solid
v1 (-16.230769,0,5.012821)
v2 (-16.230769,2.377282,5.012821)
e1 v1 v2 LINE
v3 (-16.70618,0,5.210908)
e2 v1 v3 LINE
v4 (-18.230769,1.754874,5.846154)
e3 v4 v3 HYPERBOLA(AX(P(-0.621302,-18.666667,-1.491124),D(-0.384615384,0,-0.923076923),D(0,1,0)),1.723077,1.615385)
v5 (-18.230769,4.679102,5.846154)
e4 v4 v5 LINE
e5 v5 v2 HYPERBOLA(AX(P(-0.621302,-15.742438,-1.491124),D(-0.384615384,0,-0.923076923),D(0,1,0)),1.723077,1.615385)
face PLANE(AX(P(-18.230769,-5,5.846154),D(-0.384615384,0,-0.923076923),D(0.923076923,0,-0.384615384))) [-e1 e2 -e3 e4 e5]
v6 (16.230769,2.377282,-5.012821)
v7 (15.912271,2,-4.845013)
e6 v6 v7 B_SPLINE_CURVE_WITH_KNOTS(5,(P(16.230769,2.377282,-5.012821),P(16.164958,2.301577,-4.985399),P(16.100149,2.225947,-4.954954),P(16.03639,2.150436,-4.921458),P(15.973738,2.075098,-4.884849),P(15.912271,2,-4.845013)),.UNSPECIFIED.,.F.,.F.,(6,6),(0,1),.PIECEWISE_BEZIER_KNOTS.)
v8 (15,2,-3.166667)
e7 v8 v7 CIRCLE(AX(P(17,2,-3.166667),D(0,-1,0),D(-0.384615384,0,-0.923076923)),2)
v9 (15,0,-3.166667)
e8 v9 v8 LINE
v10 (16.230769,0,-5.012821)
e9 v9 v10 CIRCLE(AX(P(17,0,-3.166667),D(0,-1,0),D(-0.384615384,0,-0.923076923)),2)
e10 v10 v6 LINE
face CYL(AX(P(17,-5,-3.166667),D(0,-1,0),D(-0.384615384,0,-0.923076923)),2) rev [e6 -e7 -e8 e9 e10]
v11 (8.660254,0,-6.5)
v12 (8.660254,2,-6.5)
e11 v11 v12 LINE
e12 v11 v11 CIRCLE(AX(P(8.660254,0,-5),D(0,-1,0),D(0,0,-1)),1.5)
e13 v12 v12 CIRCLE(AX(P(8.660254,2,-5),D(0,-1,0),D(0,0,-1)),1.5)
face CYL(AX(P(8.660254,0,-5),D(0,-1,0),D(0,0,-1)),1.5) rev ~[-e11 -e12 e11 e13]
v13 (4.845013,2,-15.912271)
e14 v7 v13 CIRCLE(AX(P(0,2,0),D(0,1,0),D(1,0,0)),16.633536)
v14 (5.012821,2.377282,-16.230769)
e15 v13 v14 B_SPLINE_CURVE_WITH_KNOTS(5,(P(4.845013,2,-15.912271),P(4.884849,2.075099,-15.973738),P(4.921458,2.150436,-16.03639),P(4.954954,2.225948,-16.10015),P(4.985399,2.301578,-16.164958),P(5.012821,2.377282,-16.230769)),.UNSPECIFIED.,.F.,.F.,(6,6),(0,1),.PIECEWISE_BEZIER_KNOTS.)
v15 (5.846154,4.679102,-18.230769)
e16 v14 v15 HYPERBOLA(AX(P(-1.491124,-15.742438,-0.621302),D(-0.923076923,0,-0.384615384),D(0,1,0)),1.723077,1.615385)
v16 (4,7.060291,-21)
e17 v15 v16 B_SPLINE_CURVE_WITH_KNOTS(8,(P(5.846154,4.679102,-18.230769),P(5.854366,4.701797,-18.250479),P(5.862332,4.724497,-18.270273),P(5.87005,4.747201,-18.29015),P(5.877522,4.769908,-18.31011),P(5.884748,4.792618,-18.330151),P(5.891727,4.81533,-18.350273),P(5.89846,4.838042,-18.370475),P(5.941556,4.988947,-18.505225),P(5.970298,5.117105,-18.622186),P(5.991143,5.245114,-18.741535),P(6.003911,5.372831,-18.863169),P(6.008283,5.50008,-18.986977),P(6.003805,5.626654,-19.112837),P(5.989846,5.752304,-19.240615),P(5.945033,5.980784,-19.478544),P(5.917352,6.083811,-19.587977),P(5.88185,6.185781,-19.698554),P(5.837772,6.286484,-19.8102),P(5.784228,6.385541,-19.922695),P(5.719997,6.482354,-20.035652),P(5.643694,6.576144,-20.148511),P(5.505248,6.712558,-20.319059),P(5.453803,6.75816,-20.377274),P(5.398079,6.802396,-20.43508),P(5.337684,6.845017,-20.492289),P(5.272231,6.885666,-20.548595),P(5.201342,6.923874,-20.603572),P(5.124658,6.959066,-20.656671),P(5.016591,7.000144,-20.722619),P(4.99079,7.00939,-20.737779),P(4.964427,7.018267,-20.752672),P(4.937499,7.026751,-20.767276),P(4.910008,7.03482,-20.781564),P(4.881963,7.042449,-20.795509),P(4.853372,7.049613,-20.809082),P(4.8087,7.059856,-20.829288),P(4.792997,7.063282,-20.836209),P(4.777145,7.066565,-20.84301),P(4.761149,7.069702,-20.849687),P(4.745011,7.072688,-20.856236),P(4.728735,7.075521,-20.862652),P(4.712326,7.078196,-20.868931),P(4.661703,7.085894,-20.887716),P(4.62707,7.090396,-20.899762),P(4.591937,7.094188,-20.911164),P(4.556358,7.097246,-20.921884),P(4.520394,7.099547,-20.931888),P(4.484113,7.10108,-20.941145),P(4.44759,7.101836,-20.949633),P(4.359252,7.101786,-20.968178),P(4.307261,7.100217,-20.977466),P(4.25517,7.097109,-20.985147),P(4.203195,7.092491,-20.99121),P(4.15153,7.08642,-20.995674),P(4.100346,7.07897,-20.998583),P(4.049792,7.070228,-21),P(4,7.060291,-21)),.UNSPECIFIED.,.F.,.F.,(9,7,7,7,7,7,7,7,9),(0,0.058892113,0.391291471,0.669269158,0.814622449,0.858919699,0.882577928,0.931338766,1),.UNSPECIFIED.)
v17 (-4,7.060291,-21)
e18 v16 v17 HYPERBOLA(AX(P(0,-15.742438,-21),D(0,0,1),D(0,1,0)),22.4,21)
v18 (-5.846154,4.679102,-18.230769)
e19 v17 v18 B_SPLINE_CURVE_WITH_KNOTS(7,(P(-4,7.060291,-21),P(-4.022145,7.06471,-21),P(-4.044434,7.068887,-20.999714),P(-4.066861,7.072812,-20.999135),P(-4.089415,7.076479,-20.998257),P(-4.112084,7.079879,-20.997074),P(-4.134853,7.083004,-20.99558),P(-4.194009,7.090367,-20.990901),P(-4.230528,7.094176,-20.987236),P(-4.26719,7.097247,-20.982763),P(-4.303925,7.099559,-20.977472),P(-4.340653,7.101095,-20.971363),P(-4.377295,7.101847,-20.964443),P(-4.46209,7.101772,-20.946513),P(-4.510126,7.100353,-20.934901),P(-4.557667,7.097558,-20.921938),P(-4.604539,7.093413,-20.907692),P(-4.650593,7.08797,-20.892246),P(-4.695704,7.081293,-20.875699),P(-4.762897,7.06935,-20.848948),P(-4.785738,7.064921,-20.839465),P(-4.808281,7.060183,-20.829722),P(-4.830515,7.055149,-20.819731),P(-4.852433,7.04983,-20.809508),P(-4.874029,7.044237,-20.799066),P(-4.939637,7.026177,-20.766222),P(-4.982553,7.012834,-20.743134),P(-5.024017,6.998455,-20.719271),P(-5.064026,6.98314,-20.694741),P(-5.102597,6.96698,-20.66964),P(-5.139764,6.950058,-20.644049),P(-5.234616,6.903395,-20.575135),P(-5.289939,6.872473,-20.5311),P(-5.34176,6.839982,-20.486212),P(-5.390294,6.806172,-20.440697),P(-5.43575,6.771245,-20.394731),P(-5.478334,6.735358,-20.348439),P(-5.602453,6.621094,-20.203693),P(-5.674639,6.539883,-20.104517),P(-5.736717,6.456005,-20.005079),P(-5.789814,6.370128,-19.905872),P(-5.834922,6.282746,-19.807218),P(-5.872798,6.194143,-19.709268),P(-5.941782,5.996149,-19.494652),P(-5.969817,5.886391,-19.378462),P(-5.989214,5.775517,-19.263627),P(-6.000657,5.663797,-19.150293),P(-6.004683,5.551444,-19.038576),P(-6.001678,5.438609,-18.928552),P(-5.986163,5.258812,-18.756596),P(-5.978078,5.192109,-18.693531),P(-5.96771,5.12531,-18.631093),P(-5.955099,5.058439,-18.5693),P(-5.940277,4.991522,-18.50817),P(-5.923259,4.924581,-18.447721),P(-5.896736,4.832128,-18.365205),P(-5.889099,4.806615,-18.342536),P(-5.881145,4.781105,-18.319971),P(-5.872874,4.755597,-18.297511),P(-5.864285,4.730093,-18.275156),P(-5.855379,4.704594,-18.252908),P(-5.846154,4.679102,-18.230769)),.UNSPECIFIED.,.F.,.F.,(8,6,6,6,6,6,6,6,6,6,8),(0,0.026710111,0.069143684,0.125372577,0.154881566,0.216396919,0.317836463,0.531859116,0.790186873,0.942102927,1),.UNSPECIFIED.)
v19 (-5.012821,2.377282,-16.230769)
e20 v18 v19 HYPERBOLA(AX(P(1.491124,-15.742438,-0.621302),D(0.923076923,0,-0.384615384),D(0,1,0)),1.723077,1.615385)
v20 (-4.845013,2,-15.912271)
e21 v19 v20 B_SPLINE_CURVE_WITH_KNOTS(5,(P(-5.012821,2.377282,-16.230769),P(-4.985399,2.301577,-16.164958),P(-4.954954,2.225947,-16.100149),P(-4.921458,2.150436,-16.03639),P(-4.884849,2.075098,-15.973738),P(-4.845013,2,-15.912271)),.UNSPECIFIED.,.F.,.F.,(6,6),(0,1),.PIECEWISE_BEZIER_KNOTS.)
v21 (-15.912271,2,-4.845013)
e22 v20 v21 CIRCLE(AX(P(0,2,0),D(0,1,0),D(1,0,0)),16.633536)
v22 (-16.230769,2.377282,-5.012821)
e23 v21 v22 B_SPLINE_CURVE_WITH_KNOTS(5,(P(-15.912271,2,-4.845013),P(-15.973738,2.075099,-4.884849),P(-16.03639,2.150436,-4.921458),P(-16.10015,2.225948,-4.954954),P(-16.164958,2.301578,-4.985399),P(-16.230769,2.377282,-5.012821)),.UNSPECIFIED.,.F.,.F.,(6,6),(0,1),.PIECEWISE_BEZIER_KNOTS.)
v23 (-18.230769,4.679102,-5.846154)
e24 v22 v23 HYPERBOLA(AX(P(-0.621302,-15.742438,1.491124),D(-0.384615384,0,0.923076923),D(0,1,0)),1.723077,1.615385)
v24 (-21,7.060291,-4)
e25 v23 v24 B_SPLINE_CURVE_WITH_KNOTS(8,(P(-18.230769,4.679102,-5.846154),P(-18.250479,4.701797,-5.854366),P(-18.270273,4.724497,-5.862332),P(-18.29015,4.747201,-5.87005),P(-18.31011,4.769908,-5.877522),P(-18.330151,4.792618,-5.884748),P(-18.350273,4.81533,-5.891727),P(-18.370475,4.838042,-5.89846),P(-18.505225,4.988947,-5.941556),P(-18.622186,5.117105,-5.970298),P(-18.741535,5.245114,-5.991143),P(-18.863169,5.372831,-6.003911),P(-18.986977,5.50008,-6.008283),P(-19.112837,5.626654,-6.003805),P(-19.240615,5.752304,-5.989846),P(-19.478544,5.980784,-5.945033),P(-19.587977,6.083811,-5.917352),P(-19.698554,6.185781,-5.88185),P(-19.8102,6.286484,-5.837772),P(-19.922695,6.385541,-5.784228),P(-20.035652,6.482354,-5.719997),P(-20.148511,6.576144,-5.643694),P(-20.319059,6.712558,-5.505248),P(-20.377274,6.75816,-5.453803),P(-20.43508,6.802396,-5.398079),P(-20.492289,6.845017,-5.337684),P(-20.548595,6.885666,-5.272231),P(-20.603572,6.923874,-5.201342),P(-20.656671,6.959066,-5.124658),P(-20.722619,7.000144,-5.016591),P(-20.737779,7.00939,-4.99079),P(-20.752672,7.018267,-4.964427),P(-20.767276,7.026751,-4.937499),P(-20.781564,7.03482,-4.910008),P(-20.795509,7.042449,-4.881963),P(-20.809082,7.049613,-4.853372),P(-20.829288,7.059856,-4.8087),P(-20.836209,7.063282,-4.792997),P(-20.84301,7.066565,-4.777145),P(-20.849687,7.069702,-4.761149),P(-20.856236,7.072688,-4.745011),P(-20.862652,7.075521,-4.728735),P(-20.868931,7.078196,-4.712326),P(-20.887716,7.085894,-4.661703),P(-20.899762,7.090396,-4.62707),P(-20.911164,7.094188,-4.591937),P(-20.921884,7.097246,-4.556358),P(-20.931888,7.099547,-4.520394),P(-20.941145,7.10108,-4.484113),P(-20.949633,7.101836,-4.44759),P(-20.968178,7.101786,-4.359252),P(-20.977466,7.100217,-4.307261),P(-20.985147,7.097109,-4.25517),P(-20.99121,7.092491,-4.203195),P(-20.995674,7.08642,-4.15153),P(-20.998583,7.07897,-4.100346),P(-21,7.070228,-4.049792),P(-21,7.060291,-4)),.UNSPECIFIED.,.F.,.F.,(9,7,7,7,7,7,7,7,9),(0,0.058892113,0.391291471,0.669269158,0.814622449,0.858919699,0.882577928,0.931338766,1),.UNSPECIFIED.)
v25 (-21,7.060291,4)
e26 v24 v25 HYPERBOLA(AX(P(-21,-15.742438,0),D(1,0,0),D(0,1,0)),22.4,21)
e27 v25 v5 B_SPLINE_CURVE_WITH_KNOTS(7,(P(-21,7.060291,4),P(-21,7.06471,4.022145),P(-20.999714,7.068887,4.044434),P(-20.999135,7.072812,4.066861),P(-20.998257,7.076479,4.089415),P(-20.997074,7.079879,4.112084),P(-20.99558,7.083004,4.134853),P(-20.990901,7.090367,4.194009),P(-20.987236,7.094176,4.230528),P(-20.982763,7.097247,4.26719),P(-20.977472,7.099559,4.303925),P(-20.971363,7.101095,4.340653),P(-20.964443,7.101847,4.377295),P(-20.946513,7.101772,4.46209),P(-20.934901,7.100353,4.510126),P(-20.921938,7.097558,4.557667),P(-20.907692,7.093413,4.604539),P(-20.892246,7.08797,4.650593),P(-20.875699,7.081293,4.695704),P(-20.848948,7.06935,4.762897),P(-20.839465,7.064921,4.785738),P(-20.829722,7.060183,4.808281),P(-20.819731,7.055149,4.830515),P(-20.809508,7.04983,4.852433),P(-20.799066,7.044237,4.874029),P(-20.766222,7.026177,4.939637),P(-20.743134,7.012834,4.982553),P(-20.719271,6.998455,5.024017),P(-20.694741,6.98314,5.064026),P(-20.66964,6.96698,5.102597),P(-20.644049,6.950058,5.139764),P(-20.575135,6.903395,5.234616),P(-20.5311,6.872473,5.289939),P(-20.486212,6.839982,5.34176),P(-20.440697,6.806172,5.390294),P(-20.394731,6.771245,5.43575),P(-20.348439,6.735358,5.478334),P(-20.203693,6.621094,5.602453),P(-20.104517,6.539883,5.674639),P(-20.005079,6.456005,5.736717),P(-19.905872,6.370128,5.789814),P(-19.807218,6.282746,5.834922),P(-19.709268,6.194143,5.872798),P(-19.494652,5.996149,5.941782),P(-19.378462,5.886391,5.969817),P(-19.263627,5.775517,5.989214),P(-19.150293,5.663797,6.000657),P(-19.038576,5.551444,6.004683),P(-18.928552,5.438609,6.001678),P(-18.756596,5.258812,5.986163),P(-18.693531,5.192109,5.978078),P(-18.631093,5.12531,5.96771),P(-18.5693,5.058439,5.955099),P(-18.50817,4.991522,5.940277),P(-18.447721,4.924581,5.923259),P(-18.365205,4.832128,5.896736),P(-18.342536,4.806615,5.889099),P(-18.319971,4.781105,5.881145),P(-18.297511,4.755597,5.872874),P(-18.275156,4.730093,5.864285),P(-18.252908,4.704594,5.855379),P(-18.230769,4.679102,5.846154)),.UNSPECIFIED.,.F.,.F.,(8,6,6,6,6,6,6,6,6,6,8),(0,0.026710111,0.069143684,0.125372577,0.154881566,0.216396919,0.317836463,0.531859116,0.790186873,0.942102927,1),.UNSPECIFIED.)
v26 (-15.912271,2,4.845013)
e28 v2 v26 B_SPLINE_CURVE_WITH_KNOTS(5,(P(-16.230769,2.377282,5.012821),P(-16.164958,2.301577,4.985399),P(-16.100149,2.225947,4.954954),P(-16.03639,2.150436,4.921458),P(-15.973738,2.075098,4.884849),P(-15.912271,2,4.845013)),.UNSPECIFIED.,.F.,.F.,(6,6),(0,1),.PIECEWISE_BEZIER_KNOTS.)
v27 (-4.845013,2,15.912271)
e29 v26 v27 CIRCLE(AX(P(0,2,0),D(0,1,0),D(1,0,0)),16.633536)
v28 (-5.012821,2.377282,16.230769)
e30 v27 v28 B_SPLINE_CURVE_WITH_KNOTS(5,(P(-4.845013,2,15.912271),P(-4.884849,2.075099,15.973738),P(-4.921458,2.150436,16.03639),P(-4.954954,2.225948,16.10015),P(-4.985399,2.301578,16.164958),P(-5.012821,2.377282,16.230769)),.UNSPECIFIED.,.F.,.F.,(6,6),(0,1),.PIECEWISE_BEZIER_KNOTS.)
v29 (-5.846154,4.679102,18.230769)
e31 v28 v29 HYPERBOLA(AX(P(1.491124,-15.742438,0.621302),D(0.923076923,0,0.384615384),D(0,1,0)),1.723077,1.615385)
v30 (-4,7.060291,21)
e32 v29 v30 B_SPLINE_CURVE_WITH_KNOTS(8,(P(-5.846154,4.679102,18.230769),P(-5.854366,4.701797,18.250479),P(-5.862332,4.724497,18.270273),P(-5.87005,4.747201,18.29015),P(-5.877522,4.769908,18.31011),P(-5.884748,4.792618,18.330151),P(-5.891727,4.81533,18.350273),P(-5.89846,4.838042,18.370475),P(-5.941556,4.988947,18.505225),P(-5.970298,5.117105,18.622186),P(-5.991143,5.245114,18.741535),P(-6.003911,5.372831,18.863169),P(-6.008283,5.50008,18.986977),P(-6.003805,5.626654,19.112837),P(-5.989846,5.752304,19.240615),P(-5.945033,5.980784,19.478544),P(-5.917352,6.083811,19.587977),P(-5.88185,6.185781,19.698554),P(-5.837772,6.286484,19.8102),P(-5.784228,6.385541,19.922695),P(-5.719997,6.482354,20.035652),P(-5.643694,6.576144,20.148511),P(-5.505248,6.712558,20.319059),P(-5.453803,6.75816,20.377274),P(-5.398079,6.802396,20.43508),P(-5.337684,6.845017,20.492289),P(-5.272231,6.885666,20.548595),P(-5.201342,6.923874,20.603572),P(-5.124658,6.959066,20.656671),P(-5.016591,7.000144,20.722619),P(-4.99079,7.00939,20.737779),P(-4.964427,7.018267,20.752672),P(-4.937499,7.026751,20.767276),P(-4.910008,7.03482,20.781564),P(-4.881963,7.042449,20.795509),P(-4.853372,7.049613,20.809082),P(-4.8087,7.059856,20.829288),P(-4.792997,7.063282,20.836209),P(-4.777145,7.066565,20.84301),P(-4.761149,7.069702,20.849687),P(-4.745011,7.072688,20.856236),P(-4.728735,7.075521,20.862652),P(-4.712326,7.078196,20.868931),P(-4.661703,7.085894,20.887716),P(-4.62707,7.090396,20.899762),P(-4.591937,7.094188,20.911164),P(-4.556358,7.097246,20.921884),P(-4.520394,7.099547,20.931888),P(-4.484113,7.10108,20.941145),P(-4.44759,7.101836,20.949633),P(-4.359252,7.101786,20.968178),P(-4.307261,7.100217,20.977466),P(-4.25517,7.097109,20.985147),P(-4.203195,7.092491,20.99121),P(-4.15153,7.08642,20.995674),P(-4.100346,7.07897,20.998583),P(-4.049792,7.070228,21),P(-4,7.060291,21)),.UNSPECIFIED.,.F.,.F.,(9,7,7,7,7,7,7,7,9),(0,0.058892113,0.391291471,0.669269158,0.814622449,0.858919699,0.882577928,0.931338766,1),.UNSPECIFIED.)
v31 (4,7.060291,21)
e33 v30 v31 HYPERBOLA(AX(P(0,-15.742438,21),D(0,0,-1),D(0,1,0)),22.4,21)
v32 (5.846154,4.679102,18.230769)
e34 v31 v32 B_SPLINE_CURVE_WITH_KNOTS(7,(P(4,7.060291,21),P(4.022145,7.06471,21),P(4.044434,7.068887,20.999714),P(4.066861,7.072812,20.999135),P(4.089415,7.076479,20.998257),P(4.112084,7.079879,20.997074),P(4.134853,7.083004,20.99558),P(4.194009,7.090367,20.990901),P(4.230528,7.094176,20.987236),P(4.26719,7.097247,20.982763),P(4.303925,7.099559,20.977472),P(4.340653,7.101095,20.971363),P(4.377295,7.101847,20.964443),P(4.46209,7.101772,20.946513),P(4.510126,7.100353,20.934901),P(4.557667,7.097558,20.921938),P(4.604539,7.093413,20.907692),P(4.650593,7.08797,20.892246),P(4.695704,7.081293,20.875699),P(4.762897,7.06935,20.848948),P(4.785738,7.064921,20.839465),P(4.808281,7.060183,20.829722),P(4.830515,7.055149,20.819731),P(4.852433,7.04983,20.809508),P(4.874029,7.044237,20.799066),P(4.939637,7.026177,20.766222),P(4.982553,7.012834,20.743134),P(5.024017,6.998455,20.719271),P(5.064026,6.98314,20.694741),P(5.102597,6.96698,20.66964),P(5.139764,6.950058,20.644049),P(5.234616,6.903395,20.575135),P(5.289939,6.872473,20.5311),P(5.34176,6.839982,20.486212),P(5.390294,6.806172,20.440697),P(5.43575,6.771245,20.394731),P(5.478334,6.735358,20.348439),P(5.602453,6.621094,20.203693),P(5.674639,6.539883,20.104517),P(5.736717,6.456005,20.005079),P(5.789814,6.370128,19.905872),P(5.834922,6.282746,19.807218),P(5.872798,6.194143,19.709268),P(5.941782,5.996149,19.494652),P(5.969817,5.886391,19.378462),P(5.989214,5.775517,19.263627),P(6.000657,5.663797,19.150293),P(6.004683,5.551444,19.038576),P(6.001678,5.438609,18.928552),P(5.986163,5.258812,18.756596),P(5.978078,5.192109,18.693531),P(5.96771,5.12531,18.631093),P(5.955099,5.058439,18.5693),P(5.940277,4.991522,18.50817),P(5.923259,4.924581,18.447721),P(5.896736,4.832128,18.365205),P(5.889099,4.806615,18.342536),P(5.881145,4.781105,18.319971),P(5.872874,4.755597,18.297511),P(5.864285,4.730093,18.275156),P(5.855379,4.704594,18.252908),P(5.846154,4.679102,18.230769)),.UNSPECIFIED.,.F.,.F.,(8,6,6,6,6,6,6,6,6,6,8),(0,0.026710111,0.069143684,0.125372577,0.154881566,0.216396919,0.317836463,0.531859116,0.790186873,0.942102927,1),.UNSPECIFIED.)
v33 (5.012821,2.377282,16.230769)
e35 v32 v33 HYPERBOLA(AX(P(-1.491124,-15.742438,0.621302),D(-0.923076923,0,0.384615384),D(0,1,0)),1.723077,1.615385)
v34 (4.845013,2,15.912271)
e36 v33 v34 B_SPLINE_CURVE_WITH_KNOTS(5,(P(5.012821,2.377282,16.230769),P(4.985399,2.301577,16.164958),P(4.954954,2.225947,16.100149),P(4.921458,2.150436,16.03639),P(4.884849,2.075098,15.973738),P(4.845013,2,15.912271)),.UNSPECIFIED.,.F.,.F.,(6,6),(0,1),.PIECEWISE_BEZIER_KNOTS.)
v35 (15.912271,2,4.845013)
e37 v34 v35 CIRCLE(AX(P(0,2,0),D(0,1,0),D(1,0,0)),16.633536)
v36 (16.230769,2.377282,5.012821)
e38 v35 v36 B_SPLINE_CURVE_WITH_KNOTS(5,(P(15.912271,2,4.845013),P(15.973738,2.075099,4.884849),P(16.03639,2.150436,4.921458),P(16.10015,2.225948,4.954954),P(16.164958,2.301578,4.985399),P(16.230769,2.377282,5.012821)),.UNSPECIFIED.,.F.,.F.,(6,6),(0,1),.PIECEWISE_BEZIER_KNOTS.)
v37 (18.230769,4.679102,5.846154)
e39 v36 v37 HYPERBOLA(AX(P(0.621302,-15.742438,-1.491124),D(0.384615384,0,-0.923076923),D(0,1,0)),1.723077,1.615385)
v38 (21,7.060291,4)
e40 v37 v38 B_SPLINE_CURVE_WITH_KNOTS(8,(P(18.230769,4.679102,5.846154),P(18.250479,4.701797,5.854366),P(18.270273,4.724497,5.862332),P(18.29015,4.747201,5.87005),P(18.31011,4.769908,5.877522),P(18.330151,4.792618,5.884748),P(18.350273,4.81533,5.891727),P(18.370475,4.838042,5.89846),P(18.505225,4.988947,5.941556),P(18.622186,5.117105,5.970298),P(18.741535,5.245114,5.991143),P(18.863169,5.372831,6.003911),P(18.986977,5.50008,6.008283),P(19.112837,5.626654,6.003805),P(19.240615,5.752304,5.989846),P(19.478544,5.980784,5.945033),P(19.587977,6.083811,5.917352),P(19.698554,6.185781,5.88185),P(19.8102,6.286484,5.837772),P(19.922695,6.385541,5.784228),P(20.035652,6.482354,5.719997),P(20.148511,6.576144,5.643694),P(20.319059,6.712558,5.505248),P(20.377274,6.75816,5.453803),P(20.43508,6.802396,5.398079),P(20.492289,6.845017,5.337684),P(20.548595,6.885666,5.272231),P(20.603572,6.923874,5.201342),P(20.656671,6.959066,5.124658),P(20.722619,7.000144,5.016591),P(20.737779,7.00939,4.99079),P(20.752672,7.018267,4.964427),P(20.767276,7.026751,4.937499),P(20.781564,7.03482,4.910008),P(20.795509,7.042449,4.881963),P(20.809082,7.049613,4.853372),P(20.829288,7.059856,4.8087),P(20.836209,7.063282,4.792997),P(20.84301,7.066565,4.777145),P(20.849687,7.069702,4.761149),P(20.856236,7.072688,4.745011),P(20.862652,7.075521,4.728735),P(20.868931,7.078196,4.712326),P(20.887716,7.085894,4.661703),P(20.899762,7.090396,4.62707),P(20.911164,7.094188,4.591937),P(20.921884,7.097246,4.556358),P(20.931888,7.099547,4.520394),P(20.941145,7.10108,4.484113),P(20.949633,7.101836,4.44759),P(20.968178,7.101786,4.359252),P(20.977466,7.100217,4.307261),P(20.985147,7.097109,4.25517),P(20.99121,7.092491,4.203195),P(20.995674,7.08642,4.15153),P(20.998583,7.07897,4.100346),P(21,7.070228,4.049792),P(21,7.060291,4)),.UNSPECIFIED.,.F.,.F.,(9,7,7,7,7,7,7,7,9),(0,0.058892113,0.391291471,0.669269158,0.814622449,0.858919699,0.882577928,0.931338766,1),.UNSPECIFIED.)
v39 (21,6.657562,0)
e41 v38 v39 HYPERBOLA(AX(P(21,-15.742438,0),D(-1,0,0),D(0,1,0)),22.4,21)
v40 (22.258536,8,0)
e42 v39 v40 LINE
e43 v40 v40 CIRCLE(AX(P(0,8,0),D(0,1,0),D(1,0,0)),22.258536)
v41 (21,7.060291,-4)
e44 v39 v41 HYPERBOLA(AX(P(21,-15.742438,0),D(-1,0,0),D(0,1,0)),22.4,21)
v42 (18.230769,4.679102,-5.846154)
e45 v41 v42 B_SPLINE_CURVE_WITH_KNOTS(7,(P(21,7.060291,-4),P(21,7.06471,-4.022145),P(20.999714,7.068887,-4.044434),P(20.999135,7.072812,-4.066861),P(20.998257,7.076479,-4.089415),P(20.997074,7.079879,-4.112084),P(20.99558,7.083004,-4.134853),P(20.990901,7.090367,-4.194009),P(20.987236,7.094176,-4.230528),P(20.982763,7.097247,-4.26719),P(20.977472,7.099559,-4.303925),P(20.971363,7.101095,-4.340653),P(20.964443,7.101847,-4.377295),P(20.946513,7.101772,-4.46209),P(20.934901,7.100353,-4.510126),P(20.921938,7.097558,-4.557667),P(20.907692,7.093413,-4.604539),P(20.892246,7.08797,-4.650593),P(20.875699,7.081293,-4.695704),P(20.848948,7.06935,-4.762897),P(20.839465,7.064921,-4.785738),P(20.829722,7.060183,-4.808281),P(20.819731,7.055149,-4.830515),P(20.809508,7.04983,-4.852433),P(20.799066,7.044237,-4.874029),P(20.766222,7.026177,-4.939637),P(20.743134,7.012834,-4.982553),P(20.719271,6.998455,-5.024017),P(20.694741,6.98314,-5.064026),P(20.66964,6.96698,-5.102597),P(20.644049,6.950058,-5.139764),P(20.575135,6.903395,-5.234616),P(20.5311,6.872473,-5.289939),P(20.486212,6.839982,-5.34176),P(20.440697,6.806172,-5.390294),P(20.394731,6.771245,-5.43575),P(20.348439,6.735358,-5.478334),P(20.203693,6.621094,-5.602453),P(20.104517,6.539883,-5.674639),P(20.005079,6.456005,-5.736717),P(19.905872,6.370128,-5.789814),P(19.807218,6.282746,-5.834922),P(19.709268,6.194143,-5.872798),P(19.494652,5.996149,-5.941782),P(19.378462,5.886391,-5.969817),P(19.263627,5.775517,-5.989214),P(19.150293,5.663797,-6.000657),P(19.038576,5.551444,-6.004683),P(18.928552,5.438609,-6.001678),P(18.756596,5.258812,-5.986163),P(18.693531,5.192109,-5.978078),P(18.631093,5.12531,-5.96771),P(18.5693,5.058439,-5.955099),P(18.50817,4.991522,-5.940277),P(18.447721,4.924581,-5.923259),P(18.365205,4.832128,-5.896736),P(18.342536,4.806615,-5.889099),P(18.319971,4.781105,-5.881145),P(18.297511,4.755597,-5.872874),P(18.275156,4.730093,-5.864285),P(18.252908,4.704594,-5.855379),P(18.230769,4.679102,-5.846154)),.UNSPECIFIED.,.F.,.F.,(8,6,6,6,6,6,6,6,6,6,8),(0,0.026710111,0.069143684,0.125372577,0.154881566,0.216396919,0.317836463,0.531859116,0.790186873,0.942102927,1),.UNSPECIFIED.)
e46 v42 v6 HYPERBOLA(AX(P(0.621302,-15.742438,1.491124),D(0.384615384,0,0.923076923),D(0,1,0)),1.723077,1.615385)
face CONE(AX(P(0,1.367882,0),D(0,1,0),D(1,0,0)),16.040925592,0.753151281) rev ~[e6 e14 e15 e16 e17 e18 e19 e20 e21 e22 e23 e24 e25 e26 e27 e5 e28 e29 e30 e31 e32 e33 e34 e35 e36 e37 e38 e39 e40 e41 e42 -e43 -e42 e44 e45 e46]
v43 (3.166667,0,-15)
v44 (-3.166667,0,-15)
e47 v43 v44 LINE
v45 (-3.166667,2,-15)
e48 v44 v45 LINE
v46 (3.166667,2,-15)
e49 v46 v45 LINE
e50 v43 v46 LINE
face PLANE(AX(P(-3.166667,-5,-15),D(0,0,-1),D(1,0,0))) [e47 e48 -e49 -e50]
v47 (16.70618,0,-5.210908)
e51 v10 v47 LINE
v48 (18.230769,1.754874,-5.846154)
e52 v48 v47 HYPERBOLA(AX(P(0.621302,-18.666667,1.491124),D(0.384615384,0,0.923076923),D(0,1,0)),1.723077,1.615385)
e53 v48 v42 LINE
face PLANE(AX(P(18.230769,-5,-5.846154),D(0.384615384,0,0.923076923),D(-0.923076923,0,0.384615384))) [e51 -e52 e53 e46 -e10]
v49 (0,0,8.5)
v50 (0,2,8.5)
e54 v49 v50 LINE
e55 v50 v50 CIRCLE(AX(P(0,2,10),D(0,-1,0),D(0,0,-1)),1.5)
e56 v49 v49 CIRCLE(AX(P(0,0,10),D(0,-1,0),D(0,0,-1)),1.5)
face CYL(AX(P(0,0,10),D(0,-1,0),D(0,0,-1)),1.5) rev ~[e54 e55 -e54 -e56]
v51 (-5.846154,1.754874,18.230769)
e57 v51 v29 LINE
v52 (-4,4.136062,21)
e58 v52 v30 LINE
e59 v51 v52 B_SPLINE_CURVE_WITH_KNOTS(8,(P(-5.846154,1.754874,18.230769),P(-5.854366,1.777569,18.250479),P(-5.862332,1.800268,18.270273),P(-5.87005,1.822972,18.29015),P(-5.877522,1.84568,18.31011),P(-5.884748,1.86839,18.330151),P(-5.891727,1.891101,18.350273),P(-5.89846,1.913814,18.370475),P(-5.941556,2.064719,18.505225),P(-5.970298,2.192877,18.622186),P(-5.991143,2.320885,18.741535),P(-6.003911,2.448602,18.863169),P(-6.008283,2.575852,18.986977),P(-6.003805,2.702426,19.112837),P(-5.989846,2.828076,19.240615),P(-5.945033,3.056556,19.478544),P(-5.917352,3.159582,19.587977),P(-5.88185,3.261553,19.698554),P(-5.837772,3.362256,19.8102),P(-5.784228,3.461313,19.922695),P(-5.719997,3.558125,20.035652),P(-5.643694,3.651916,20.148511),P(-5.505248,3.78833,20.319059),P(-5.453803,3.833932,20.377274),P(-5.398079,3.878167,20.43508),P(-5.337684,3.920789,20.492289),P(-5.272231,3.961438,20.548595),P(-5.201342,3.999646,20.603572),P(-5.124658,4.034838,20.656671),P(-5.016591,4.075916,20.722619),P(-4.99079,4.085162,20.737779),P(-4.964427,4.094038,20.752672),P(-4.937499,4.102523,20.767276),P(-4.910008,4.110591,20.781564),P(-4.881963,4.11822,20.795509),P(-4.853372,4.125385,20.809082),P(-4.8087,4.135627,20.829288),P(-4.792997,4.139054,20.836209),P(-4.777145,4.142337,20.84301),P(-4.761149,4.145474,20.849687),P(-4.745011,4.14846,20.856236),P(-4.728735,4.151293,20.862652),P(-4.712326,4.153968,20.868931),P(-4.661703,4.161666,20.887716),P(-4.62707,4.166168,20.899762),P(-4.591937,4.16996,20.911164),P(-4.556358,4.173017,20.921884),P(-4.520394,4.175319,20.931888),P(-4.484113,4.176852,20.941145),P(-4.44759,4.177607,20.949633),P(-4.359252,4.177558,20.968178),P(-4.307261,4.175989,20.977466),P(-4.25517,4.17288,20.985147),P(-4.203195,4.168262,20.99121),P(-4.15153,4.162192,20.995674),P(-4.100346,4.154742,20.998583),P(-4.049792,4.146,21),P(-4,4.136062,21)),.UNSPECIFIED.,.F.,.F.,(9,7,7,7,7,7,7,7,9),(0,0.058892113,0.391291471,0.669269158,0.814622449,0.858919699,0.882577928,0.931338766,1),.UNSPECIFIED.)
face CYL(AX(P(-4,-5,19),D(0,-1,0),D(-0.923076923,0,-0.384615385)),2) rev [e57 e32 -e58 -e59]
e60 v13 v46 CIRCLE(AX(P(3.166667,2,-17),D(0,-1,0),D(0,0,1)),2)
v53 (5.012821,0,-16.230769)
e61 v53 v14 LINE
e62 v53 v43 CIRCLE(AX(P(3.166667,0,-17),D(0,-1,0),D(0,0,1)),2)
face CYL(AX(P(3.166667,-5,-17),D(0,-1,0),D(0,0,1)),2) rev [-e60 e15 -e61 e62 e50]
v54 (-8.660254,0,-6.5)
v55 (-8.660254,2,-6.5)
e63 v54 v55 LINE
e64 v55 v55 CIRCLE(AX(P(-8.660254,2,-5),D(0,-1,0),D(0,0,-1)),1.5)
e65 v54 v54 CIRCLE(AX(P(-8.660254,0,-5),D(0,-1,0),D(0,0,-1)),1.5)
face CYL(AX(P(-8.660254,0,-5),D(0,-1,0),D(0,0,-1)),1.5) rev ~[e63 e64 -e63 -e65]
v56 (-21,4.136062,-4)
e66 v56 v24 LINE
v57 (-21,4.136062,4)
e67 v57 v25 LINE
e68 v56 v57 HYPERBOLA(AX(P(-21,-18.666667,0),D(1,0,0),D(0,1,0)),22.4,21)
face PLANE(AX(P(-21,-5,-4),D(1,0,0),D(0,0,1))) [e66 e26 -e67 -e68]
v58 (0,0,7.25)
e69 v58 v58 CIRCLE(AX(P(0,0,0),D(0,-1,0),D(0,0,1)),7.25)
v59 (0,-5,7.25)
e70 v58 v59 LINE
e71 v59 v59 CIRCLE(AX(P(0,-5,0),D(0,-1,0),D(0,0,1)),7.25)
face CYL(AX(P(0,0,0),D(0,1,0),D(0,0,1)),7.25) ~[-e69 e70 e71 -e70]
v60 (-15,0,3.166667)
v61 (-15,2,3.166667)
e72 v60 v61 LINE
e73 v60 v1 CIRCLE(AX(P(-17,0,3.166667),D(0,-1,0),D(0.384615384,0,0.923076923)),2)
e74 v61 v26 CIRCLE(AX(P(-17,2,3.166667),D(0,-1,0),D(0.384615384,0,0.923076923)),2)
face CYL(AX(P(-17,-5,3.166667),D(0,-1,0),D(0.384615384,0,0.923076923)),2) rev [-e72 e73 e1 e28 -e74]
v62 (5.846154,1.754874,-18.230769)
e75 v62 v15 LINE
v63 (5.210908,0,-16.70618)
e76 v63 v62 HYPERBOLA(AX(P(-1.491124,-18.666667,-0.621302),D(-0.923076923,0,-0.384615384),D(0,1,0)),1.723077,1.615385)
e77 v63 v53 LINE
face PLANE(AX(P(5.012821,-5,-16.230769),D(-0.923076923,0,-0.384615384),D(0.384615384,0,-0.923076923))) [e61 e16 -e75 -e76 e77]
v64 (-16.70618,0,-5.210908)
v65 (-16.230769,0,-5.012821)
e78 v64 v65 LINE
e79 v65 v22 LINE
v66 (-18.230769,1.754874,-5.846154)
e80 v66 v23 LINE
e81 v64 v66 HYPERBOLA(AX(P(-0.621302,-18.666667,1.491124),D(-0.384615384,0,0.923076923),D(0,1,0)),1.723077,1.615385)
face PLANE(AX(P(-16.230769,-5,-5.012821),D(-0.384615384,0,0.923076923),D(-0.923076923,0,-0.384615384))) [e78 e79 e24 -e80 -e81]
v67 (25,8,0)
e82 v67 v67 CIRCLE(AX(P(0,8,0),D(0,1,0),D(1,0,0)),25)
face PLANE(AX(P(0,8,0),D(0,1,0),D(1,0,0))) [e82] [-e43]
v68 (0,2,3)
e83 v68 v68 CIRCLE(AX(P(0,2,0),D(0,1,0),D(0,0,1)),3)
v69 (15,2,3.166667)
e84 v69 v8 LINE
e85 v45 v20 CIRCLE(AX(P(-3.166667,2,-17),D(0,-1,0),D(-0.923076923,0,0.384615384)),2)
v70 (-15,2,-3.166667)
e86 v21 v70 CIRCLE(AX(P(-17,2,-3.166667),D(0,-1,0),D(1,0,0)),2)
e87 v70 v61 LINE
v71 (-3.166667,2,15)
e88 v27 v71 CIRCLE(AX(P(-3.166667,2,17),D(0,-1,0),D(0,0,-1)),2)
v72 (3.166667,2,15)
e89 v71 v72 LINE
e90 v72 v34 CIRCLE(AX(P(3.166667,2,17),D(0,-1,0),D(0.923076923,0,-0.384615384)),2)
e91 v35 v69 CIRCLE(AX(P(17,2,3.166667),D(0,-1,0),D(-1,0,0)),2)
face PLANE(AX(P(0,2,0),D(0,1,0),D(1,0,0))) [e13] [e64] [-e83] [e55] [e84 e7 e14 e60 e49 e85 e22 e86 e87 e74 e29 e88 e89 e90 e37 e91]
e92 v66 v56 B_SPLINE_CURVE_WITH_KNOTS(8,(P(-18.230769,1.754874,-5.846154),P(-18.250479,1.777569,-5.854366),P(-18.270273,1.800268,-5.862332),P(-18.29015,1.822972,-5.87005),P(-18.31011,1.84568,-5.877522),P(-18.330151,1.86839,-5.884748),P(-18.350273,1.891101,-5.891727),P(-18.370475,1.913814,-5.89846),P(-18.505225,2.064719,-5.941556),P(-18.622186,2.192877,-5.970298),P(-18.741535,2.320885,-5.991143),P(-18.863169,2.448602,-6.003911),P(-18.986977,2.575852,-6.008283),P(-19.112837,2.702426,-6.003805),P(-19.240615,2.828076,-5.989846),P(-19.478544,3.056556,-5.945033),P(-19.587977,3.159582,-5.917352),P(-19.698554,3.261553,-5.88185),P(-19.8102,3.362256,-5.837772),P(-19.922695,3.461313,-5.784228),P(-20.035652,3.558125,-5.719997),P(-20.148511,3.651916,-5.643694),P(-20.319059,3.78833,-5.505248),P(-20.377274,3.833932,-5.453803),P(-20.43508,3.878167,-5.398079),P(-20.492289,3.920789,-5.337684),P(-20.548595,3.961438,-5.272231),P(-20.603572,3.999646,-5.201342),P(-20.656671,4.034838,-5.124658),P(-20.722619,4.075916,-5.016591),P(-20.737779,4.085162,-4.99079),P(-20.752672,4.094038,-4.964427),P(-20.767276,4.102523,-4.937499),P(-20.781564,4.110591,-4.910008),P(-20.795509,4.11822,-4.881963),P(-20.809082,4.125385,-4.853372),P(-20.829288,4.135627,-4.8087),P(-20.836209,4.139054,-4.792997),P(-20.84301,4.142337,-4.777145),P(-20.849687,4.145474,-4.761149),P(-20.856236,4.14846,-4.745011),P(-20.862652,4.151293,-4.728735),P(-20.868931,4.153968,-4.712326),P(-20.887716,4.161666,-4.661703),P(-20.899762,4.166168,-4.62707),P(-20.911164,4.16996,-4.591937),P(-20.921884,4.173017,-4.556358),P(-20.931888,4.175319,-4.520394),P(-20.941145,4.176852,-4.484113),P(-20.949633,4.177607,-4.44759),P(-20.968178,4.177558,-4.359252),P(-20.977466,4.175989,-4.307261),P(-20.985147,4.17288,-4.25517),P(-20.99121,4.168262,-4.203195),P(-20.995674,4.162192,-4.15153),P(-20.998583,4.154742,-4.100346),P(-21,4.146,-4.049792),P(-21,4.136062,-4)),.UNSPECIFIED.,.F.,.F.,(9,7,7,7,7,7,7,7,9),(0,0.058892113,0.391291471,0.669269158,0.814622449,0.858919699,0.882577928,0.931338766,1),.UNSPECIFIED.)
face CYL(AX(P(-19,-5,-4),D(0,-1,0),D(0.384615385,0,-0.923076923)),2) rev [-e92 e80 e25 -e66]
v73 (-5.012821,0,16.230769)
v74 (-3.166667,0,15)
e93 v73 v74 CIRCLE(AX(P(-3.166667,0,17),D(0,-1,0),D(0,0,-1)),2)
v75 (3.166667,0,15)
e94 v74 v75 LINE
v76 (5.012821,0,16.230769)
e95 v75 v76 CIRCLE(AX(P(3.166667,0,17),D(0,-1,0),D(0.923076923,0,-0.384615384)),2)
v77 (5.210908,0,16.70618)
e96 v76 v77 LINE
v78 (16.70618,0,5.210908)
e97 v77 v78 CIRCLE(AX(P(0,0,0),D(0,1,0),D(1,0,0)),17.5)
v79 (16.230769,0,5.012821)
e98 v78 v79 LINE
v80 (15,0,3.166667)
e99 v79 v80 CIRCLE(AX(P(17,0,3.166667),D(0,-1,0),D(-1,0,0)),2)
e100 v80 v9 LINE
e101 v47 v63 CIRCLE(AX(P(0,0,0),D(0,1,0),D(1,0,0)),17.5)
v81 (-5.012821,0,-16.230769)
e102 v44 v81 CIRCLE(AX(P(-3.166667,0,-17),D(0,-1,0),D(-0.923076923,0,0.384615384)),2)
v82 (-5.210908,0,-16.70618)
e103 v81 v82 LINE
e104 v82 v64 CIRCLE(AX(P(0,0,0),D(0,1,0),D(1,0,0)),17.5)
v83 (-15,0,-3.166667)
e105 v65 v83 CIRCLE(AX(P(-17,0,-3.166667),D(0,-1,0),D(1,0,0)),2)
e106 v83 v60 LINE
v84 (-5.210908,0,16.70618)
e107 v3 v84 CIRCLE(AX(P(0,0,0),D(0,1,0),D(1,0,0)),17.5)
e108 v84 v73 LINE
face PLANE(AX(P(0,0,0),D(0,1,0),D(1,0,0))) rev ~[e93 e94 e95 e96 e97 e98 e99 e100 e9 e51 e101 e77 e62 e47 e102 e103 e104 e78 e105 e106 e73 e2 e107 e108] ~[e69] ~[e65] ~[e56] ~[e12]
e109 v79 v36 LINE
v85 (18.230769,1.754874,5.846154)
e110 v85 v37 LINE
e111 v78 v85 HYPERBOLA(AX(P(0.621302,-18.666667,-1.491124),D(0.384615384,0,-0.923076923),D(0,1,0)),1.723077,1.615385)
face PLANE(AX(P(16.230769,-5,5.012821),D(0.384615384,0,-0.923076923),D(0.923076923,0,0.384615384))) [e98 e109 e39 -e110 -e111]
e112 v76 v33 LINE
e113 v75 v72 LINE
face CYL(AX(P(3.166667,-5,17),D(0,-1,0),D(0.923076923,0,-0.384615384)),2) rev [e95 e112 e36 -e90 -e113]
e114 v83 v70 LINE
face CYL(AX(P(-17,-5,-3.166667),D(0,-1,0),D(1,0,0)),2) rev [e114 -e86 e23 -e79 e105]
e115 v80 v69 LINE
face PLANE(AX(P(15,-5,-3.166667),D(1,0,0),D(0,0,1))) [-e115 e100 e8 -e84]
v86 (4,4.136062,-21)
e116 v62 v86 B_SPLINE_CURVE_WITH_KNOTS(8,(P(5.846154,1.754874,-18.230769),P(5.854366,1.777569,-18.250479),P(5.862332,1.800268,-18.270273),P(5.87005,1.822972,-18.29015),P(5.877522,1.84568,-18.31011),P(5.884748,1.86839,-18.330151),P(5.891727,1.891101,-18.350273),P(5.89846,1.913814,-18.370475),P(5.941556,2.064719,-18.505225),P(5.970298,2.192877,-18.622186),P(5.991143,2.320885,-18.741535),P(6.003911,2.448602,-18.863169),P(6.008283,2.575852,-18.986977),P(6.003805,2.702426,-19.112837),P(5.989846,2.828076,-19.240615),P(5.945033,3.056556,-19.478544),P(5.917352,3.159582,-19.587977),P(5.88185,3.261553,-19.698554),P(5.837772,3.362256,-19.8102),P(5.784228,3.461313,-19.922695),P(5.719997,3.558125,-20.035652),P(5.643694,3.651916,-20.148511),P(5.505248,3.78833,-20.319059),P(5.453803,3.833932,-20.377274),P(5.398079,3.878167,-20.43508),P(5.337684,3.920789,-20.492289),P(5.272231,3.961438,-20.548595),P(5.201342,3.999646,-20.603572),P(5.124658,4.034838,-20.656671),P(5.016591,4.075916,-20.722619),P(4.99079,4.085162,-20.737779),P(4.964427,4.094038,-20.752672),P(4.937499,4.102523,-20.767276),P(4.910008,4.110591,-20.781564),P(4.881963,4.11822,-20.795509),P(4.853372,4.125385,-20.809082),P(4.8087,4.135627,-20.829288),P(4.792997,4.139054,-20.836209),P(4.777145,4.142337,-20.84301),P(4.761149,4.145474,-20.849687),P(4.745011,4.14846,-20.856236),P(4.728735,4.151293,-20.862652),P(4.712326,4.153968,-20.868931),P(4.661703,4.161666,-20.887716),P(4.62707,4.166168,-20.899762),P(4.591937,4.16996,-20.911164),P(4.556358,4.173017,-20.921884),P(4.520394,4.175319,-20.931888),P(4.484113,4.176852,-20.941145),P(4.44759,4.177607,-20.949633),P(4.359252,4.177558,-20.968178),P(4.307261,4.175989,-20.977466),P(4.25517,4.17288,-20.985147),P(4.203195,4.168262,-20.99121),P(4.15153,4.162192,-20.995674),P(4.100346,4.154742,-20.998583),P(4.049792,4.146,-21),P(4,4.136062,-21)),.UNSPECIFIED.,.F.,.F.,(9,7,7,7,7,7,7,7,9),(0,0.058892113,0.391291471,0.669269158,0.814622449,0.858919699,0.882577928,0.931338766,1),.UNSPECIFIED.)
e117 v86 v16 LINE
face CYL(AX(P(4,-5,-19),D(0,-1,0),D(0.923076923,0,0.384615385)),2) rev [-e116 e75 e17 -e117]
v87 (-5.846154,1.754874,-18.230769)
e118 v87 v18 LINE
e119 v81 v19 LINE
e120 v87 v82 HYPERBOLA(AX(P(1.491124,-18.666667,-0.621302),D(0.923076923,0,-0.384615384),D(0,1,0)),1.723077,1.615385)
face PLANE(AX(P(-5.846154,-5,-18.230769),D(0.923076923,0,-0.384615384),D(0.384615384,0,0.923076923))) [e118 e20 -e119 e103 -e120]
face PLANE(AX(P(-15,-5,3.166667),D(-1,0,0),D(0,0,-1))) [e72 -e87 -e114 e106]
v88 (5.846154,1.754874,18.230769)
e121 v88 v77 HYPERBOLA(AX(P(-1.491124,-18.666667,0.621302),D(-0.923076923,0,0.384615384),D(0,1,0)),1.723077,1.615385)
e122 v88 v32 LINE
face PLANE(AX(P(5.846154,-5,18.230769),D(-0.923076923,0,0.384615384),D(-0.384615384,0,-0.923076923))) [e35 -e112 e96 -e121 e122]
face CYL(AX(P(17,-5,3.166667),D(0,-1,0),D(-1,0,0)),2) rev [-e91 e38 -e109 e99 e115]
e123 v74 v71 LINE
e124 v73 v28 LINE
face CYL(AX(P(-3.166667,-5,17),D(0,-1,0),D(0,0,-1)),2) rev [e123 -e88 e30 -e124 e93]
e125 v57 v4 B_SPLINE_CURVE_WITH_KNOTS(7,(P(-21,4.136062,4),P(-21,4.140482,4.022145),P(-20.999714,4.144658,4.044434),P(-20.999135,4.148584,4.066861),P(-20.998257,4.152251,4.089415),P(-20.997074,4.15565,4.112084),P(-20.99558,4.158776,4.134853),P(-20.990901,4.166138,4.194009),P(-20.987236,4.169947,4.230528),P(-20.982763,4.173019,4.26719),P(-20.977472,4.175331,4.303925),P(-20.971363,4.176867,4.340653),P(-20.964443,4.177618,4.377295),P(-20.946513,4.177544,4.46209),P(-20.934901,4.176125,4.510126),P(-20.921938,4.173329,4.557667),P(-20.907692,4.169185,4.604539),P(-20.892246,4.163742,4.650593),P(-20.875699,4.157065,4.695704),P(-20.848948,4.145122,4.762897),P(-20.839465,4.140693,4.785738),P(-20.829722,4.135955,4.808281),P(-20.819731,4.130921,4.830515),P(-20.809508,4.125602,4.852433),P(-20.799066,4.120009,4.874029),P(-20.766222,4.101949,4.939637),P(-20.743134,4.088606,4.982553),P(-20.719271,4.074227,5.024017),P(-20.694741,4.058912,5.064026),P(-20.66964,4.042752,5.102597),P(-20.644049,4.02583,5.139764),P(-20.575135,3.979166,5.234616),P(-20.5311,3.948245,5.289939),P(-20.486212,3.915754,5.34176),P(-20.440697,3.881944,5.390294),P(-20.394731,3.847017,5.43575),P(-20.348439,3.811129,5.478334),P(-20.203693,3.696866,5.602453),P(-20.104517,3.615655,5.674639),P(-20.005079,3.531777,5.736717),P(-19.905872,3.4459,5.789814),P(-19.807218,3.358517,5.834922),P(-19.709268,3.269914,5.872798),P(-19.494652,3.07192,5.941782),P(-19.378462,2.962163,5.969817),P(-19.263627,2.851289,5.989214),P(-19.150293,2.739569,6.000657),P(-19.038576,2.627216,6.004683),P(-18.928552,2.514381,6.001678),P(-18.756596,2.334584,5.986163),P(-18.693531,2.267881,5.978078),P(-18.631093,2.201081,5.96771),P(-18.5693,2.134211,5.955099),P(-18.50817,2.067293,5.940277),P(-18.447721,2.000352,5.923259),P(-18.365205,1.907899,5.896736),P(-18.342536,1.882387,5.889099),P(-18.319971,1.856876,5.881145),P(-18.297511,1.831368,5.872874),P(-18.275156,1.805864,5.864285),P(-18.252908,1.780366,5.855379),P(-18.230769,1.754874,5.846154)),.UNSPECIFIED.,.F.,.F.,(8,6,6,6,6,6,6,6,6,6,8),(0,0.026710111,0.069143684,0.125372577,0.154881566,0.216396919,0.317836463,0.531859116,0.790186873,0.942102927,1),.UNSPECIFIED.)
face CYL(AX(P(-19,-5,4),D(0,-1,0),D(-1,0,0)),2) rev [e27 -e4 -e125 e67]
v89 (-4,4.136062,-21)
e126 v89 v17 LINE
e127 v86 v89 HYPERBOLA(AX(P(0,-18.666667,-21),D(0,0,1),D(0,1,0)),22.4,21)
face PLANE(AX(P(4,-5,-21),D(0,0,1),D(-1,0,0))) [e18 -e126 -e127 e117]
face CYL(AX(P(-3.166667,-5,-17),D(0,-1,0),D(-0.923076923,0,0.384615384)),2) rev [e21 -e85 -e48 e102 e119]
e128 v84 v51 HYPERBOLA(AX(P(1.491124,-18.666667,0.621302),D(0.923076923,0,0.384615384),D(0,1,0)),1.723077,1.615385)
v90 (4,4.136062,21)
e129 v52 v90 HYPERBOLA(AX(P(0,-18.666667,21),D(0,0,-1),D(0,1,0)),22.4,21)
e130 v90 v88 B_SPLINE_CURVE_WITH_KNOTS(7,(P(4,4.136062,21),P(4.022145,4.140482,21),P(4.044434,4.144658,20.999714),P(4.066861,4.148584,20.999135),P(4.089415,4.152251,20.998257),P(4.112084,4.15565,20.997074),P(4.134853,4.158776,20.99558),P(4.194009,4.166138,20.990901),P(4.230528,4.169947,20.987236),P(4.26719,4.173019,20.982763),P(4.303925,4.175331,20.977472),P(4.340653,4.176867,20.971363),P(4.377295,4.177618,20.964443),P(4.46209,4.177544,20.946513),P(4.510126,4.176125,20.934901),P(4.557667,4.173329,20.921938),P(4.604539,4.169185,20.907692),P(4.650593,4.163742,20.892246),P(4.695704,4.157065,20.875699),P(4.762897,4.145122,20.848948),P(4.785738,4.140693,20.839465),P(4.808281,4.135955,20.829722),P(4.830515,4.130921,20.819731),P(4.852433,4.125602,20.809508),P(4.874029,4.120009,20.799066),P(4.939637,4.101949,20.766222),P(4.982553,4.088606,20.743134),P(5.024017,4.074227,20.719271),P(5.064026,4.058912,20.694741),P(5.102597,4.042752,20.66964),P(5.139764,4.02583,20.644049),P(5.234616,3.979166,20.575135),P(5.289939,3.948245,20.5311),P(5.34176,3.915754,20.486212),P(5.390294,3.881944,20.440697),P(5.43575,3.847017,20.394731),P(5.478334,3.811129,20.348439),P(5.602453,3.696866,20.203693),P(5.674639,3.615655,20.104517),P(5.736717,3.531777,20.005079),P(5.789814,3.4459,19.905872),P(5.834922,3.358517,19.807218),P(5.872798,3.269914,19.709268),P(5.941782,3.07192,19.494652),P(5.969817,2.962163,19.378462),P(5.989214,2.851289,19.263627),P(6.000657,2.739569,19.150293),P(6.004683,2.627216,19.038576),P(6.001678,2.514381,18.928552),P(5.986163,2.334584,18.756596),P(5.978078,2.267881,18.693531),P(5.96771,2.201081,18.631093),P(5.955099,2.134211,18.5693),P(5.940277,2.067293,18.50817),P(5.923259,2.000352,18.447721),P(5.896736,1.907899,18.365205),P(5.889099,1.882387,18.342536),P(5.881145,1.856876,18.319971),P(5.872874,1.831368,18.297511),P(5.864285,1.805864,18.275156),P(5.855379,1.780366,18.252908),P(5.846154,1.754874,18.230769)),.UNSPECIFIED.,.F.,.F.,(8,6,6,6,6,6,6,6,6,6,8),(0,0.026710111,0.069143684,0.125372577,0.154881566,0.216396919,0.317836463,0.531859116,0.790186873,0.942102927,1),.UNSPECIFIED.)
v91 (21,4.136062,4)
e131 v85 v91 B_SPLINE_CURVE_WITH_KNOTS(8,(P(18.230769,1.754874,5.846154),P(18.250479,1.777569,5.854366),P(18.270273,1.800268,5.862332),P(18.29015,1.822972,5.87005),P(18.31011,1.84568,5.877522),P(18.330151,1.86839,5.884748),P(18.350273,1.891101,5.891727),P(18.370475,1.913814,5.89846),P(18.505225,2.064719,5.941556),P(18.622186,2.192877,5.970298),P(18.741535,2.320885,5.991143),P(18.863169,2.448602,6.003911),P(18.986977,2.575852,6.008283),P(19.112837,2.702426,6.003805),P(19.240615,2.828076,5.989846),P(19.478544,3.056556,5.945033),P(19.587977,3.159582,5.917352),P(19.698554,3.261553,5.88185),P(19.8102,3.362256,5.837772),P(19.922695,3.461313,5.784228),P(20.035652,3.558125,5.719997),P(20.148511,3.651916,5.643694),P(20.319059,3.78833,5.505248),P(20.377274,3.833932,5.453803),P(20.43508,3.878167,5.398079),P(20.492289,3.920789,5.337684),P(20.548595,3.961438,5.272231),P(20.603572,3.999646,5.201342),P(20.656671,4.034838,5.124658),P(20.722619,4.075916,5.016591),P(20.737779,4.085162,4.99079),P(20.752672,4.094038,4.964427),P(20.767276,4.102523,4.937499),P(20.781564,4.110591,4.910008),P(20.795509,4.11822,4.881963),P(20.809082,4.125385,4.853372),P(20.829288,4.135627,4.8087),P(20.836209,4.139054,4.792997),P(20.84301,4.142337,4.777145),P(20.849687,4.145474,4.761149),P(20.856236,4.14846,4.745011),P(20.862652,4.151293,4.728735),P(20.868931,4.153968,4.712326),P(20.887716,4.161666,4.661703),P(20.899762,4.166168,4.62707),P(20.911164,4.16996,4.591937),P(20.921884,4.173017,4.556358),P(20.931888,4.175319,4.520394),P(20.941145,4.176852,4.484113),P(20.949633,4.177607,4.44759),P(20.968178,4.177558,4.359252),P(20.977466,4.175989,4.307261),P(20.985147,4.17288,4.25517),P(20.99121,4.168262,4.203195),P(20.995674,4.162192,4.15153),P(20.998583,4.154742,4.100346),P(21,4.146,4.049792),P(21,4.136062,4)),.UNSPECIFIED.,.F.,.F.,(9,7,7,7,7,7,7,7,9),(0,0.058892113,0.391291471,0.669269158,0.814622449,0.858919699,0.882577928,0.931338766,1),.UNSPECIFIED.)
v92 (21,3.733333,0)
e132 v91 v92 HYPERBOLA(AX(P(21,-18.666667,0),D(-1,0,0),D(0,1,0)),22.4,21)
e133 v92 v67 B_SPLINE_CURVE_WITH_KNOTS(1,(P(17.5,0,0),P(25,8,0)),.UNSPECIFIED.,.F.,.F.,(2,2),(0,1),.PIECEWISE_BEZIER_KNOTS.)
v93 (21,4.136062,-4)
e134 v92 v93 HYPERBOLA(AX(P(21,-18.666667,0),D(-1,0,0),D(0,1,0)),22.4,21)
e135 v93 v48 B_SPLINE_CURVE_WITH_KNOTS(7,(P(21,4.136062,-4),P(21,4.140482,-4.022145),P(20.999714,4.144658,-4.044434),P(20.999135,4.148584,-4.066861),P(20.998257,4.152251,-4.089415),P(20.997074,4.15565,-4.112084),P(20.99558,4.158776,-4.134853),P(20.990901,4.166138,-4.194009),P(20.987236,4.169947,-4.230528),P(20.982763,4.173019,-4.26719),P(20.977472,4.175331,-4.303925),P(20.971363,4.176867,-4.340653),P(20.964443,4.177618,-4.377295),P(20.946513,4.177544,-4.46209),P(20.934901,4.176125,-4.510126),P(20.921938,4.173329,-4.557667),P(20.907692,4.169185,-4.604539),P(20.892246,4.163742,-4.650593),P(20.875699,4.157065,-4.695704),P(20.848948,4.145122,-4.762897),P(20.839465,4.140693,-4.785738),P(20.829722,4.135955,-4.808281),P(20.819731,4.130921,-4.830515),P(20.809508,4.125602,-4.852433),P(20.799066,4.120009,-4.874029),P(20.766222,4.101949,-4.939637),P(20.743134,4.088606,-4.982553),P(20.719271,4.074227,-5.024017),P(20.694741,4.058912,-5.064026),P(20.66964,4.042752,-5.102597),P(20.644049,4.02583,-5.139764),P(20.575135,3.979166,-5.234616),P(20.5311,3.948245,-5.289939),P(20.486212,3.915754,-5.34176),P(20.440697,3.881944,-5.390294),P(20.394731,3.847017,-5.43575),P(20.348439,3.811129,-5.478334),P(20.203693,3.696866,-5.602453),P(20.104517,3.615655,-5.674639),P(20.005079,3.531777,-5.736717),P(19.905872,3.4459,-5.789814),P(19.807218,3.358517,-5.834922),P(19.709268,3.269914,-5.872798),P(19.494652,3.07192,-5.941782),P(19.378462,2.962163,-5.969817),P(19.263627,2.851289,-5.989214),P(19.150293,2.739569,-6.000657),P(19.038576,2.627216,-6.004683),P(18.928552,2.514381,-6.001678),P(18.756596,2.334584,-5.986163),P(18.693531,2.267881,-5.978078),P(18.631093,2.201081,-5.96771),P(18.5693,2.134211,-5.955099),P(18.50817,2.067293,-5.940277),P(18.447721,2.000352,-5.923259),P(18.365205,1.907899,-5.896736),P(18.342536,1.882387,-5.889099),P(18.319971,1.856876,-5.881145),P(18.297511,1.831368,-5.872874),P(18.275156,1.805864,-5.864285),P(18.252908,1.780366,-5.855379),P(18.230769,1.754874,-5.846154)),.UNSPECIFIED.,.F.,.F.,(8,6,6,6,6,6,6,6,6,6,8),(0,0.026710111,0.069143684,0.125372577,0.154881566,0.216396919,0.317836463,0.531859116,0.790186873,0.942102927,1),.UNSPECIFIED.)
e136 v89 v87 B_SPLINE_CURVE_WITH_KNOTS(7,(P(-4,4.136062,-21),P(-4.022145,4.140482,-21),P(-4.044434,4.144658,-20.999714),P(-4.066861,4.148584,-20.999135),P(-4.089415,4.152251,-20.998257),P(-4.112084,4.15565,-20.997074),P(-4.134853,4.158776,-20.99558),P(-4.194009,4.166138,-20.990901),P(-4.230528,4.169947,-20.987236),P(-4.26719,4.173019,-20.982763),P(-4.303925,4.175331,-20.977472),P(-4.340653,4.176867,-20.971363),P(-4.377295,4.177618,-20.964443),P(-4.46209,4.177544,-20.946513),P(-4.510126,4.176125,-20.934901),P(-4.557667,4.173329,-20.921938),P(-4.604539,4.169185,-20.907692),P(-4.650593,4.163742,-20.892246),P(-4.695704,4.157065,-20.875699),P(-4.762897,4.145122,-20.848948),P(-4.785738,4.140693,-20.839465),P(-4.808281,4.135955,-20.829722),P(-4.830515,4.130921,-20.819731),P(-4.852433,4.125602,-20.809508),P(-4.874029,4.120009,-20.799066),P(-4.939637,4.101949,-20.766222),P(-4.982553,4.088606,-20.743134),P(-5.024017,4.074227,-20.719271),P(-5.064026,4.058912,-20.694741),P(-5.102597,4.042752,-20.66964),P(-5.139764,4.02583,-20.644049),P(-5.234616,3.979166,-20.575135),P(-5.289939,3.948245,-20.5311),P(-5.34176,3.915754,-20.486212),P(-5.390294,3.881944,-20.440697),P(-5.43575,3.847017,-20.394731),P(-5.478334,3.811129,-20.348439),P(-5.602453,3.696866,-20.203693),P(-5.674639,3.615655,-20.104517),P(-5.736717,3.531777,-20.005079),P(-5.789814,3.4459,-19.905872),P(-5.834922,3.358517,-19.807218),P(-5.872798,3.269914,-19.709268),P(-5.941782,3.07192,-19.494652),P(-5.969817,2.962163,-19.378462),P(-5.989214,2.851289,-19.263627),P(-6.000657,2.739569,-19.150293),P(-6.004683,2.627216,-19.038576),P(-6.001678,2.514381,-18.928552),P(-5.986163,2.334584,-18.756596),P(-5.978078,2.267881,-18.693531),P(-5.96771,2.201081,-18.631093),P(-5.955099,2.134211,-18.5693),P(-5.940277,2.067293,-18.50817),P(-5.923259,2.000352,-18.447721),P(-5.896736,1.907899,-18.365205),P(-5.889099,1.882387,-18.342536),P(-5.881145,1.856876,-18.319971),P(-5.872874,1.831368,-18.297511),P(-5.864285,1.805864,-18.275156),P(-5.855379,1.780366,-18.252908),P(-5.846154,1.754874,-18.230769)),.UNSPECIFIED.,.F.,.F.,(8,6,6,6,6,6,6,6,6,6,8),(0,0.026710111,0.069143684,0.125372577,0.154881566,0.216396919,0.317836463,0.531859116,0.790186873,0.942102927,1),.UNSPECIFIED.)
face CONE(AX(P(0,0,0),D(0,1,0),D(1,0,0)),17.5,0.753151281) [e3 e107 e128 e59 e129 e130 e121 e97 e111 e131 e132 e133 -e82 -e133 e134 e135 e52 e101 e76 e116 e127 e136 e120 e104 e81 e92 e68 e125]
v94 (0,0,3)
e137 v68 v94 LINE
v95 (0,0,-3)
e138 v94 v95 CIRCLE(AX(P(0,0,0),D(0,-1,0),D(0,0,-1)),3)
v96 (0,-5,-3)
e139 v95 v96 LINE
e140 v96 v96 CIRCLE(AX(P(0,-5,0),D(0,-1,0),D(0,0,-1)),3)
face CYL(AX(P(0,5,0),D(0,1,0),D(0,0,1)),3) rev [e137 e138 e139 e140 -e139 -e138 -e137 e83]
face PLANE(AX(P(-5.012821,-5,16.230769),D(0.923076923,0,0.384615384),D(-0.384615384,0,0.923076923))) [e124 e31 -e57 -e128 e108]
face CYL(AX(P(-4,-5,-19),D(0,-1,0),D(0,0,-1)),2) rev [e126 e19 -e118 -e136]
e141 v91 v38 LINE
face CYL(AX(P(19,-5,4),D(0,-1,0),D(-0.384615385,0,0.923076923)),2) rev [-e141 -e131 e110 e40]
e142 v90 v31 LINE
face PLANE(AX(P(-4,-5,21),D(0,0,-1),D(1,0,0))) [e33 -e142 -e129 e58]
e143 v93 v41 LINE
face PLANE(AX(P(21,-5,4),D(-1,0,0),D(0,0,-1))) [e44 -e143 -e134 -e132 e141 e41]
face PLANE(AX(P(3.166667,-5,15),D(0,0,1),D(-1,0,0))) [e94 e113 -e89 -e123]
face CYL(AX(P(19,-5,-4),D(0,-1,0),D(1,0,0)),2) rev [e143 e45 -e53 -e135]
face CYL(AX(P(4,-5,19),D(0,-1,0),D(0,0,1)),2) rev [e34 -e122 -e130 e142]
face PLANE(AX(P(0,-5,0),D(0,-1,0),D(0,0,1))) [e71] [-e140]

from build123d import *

# Parameters (mm, degrees)
SKETCH1_R           = 17.5
SKETCH2_R           = 25
SHELL1_T            = -2
SKETCH3_R           = 7.25
SKETCH3_R_2         = 3
BOSS_EXTRUDE1_DEPTH = 5
CUT_EXTRUDE1_START  = -5
SKETCH4_R           = 3
CUT_EXTRUDE1_DEPTH  = 5
SKETCH5_R           = 1.5
CUT_EXTRUDE2_DEPTH  = 37.249138081
CUT_EXTRUDE3_DEPTH  = 15


with BuildPart() as part:
    # Sketch1 → Loft1 section 0
    with BuildSketch(Plane(origin=(0, 0, 0), x_dir=(1, 0, 0), z_dir=(0, 1, 0))):
        Circle(SKETCH1_R)
    # Sketch2 → Loft1 section 1
    with BuildSketch(Plane(origin=(0, 8, 0), x_dir=(1, 0, 0), z_dir=(0, 1, 0))):
        Circle(SKETCH2_R)
    loft()

    # Shell1
    shell1_openings = [part.faces().sort_by_distance(p)[0] for p in [
        (0, 8, 0),
    ]]
    offset(amount=SHELL1_T, openings=shell1_openings, kind=Kind.INTERSECTION)

    # Sketch3 → Boss-Extrude1 (add)
    with BuildSketch(Plane.XZ):
        with Locations(Location((0, 0, 0), (0, 0, 90))):
            Circle(SKETCH3_R)
        with Locations(Location((0, 0, 0), (0, 0, 270))):
            Circle(SKETCH3_R_2, mode=Mode.SUBTRACT)
    extrude(amount=BOSS_EXTRUDE1_DEPTH)

    # Sketch4 → Cut-Extrude1 (cut)
    with BuildSketch(Plane.XZ.offset(CUT_EXTRUDE1_START)):
        with Locations(Location((0, 0, 0), (0, 0, 90))):
            Circle(SKETCH4_R)
    extrude(amount=CUT_EXTRUDE1_DEPTH, mode=Mode.SUBTRACT)

    # Sketch5 → Cut-Extrude2 (cut, through all)
    with BuildSketch(Plane.XZ):
        with Locations(Location((0, 10, 0), (0, 0, 270))):
            Circle(SKETCH5_R)
        with Locations(Location((8.660254038, -5, 0), (0, 0, 270))):
            Circle(SKETCH5_R)
        with Locations(Location((-8.660254038, -5, 0), (0, 0, 270))):
            Circle(SKETCH5_R)
    extrude(amount=-CUT_EXTRUDE2_DEPTH, mode=Mode.SUBTRACT)

    # Sketch6 → Cut-Extrude3 (cut)
    with BuildSketch(Plane.XZ.offset(5)):
        with BuildLine():
            Line((-5.012820513, 16.230769231), (-5.846153846, 18.230769231))
            ThreePointArc((-5.846153846, 18.230769231), (-5.664100589, 20.109400392), (-4, 21))
            Line((-4, 21), (4, 21))
            ThreePointArc((4, 21), (5.664100589, 20.109400392), (5.846153846, 18.230769231))
            Line((5.846153846, 18.230769231), (5.012820513, 16.230769231))
            ThreePointArc((5.012820513, 16.230769231), (4.276067059, 15.335899411), (3.166666667, 15))
            Line((3.166666667, 15), (-3.166666667, 15))
            ThreePointArc((-3.166666667, 15), (-4.276067059, 15.335899411), (-5.012820513, 16.230769231))
        make_face()
        with BuildLine():
            Line((15, -3.166666667), (15, 3.166666667))
            ThreePointArc((15, 3.166666667), (15.335899411, 4.276067059), (16.230769231, 5.012820513))
            Line((16.230769231, 5.012820513), (18.230769231, 5.846153846))
            ThreePointArc((18.230769231, 5.846153846), (20.109400392, 5.664100589), (21, 4))
            Line((21, 4), (21, -4))
            ThreePointArc((21, -4), (20.109400392, -5.664100589), (18.230769231, -5.846153846))
            Line((18.230769231, -5.846153846), (16.230769231, -5.012820513))
            ThreePointArc((16.230769231, -5.012820513), (15.335899411, -4.276067059), (15, -3.166666667))
        make_face()
        with BuildLine():
            Line((-3.166666667, -15), (3.166666667, -15))
            ThreePointArc((3.166666667, -15), (4.276067059, -15.335899411), (5.012820513, -16.230769231))
            Line((5.012820513, -16.230769231), (5.846153846, -18.230769231))
            ThreePointArc((5.846153846, -18.230769231), (5.664100589, -20.109400392), (4, -21))
            Line((4, -21), (-4, -21))
            ThreePointArc((-4, -21), (-5.664100589, -20.109400392), (-5.846153846, -18.230769231))
            Line((-5.846153846, -18.230769231), (-5.012820513, -16.230769231))
            ThreePointArc((-5.012820513, -16.230769231), (-4.276067059, -15.335899411), (-3.166666667, -15))
        make_face()
        with BuildLine():
            Line((-15, 3.166666667), (-15, -3.166666667))
            ThreePointArc((-15, -3.166666667), (-15.335899411, -4.276067059), (-16.230769231, -5.012820513))
            Line((-16.230769231, -5.012820513), (-18.230769231, -5.846153846))
            ThreePointArc((-18.230769231, -5.846153846), (-20.109400392, -5.664100589), (-21, -4))
            Line((-21, -4), (-21, 4))
            ThreePointArc((-21, 4), (-20.109400392, 5.664100589), (-18.230769231, 5.846153846))
            Line((-18.230769231, 5.846153846), (-16.230769231, 5.012820513))
            ThreePointArc((-16.230769231, 5.012820513), (-15.335899411, 4.276067059), (-15, 3.166666667))
        make_face()
    extrude(amount=-CUT_EXTRUDE3_DEPTH, mode=Mode.SUBTRACT)


solid = part.part
